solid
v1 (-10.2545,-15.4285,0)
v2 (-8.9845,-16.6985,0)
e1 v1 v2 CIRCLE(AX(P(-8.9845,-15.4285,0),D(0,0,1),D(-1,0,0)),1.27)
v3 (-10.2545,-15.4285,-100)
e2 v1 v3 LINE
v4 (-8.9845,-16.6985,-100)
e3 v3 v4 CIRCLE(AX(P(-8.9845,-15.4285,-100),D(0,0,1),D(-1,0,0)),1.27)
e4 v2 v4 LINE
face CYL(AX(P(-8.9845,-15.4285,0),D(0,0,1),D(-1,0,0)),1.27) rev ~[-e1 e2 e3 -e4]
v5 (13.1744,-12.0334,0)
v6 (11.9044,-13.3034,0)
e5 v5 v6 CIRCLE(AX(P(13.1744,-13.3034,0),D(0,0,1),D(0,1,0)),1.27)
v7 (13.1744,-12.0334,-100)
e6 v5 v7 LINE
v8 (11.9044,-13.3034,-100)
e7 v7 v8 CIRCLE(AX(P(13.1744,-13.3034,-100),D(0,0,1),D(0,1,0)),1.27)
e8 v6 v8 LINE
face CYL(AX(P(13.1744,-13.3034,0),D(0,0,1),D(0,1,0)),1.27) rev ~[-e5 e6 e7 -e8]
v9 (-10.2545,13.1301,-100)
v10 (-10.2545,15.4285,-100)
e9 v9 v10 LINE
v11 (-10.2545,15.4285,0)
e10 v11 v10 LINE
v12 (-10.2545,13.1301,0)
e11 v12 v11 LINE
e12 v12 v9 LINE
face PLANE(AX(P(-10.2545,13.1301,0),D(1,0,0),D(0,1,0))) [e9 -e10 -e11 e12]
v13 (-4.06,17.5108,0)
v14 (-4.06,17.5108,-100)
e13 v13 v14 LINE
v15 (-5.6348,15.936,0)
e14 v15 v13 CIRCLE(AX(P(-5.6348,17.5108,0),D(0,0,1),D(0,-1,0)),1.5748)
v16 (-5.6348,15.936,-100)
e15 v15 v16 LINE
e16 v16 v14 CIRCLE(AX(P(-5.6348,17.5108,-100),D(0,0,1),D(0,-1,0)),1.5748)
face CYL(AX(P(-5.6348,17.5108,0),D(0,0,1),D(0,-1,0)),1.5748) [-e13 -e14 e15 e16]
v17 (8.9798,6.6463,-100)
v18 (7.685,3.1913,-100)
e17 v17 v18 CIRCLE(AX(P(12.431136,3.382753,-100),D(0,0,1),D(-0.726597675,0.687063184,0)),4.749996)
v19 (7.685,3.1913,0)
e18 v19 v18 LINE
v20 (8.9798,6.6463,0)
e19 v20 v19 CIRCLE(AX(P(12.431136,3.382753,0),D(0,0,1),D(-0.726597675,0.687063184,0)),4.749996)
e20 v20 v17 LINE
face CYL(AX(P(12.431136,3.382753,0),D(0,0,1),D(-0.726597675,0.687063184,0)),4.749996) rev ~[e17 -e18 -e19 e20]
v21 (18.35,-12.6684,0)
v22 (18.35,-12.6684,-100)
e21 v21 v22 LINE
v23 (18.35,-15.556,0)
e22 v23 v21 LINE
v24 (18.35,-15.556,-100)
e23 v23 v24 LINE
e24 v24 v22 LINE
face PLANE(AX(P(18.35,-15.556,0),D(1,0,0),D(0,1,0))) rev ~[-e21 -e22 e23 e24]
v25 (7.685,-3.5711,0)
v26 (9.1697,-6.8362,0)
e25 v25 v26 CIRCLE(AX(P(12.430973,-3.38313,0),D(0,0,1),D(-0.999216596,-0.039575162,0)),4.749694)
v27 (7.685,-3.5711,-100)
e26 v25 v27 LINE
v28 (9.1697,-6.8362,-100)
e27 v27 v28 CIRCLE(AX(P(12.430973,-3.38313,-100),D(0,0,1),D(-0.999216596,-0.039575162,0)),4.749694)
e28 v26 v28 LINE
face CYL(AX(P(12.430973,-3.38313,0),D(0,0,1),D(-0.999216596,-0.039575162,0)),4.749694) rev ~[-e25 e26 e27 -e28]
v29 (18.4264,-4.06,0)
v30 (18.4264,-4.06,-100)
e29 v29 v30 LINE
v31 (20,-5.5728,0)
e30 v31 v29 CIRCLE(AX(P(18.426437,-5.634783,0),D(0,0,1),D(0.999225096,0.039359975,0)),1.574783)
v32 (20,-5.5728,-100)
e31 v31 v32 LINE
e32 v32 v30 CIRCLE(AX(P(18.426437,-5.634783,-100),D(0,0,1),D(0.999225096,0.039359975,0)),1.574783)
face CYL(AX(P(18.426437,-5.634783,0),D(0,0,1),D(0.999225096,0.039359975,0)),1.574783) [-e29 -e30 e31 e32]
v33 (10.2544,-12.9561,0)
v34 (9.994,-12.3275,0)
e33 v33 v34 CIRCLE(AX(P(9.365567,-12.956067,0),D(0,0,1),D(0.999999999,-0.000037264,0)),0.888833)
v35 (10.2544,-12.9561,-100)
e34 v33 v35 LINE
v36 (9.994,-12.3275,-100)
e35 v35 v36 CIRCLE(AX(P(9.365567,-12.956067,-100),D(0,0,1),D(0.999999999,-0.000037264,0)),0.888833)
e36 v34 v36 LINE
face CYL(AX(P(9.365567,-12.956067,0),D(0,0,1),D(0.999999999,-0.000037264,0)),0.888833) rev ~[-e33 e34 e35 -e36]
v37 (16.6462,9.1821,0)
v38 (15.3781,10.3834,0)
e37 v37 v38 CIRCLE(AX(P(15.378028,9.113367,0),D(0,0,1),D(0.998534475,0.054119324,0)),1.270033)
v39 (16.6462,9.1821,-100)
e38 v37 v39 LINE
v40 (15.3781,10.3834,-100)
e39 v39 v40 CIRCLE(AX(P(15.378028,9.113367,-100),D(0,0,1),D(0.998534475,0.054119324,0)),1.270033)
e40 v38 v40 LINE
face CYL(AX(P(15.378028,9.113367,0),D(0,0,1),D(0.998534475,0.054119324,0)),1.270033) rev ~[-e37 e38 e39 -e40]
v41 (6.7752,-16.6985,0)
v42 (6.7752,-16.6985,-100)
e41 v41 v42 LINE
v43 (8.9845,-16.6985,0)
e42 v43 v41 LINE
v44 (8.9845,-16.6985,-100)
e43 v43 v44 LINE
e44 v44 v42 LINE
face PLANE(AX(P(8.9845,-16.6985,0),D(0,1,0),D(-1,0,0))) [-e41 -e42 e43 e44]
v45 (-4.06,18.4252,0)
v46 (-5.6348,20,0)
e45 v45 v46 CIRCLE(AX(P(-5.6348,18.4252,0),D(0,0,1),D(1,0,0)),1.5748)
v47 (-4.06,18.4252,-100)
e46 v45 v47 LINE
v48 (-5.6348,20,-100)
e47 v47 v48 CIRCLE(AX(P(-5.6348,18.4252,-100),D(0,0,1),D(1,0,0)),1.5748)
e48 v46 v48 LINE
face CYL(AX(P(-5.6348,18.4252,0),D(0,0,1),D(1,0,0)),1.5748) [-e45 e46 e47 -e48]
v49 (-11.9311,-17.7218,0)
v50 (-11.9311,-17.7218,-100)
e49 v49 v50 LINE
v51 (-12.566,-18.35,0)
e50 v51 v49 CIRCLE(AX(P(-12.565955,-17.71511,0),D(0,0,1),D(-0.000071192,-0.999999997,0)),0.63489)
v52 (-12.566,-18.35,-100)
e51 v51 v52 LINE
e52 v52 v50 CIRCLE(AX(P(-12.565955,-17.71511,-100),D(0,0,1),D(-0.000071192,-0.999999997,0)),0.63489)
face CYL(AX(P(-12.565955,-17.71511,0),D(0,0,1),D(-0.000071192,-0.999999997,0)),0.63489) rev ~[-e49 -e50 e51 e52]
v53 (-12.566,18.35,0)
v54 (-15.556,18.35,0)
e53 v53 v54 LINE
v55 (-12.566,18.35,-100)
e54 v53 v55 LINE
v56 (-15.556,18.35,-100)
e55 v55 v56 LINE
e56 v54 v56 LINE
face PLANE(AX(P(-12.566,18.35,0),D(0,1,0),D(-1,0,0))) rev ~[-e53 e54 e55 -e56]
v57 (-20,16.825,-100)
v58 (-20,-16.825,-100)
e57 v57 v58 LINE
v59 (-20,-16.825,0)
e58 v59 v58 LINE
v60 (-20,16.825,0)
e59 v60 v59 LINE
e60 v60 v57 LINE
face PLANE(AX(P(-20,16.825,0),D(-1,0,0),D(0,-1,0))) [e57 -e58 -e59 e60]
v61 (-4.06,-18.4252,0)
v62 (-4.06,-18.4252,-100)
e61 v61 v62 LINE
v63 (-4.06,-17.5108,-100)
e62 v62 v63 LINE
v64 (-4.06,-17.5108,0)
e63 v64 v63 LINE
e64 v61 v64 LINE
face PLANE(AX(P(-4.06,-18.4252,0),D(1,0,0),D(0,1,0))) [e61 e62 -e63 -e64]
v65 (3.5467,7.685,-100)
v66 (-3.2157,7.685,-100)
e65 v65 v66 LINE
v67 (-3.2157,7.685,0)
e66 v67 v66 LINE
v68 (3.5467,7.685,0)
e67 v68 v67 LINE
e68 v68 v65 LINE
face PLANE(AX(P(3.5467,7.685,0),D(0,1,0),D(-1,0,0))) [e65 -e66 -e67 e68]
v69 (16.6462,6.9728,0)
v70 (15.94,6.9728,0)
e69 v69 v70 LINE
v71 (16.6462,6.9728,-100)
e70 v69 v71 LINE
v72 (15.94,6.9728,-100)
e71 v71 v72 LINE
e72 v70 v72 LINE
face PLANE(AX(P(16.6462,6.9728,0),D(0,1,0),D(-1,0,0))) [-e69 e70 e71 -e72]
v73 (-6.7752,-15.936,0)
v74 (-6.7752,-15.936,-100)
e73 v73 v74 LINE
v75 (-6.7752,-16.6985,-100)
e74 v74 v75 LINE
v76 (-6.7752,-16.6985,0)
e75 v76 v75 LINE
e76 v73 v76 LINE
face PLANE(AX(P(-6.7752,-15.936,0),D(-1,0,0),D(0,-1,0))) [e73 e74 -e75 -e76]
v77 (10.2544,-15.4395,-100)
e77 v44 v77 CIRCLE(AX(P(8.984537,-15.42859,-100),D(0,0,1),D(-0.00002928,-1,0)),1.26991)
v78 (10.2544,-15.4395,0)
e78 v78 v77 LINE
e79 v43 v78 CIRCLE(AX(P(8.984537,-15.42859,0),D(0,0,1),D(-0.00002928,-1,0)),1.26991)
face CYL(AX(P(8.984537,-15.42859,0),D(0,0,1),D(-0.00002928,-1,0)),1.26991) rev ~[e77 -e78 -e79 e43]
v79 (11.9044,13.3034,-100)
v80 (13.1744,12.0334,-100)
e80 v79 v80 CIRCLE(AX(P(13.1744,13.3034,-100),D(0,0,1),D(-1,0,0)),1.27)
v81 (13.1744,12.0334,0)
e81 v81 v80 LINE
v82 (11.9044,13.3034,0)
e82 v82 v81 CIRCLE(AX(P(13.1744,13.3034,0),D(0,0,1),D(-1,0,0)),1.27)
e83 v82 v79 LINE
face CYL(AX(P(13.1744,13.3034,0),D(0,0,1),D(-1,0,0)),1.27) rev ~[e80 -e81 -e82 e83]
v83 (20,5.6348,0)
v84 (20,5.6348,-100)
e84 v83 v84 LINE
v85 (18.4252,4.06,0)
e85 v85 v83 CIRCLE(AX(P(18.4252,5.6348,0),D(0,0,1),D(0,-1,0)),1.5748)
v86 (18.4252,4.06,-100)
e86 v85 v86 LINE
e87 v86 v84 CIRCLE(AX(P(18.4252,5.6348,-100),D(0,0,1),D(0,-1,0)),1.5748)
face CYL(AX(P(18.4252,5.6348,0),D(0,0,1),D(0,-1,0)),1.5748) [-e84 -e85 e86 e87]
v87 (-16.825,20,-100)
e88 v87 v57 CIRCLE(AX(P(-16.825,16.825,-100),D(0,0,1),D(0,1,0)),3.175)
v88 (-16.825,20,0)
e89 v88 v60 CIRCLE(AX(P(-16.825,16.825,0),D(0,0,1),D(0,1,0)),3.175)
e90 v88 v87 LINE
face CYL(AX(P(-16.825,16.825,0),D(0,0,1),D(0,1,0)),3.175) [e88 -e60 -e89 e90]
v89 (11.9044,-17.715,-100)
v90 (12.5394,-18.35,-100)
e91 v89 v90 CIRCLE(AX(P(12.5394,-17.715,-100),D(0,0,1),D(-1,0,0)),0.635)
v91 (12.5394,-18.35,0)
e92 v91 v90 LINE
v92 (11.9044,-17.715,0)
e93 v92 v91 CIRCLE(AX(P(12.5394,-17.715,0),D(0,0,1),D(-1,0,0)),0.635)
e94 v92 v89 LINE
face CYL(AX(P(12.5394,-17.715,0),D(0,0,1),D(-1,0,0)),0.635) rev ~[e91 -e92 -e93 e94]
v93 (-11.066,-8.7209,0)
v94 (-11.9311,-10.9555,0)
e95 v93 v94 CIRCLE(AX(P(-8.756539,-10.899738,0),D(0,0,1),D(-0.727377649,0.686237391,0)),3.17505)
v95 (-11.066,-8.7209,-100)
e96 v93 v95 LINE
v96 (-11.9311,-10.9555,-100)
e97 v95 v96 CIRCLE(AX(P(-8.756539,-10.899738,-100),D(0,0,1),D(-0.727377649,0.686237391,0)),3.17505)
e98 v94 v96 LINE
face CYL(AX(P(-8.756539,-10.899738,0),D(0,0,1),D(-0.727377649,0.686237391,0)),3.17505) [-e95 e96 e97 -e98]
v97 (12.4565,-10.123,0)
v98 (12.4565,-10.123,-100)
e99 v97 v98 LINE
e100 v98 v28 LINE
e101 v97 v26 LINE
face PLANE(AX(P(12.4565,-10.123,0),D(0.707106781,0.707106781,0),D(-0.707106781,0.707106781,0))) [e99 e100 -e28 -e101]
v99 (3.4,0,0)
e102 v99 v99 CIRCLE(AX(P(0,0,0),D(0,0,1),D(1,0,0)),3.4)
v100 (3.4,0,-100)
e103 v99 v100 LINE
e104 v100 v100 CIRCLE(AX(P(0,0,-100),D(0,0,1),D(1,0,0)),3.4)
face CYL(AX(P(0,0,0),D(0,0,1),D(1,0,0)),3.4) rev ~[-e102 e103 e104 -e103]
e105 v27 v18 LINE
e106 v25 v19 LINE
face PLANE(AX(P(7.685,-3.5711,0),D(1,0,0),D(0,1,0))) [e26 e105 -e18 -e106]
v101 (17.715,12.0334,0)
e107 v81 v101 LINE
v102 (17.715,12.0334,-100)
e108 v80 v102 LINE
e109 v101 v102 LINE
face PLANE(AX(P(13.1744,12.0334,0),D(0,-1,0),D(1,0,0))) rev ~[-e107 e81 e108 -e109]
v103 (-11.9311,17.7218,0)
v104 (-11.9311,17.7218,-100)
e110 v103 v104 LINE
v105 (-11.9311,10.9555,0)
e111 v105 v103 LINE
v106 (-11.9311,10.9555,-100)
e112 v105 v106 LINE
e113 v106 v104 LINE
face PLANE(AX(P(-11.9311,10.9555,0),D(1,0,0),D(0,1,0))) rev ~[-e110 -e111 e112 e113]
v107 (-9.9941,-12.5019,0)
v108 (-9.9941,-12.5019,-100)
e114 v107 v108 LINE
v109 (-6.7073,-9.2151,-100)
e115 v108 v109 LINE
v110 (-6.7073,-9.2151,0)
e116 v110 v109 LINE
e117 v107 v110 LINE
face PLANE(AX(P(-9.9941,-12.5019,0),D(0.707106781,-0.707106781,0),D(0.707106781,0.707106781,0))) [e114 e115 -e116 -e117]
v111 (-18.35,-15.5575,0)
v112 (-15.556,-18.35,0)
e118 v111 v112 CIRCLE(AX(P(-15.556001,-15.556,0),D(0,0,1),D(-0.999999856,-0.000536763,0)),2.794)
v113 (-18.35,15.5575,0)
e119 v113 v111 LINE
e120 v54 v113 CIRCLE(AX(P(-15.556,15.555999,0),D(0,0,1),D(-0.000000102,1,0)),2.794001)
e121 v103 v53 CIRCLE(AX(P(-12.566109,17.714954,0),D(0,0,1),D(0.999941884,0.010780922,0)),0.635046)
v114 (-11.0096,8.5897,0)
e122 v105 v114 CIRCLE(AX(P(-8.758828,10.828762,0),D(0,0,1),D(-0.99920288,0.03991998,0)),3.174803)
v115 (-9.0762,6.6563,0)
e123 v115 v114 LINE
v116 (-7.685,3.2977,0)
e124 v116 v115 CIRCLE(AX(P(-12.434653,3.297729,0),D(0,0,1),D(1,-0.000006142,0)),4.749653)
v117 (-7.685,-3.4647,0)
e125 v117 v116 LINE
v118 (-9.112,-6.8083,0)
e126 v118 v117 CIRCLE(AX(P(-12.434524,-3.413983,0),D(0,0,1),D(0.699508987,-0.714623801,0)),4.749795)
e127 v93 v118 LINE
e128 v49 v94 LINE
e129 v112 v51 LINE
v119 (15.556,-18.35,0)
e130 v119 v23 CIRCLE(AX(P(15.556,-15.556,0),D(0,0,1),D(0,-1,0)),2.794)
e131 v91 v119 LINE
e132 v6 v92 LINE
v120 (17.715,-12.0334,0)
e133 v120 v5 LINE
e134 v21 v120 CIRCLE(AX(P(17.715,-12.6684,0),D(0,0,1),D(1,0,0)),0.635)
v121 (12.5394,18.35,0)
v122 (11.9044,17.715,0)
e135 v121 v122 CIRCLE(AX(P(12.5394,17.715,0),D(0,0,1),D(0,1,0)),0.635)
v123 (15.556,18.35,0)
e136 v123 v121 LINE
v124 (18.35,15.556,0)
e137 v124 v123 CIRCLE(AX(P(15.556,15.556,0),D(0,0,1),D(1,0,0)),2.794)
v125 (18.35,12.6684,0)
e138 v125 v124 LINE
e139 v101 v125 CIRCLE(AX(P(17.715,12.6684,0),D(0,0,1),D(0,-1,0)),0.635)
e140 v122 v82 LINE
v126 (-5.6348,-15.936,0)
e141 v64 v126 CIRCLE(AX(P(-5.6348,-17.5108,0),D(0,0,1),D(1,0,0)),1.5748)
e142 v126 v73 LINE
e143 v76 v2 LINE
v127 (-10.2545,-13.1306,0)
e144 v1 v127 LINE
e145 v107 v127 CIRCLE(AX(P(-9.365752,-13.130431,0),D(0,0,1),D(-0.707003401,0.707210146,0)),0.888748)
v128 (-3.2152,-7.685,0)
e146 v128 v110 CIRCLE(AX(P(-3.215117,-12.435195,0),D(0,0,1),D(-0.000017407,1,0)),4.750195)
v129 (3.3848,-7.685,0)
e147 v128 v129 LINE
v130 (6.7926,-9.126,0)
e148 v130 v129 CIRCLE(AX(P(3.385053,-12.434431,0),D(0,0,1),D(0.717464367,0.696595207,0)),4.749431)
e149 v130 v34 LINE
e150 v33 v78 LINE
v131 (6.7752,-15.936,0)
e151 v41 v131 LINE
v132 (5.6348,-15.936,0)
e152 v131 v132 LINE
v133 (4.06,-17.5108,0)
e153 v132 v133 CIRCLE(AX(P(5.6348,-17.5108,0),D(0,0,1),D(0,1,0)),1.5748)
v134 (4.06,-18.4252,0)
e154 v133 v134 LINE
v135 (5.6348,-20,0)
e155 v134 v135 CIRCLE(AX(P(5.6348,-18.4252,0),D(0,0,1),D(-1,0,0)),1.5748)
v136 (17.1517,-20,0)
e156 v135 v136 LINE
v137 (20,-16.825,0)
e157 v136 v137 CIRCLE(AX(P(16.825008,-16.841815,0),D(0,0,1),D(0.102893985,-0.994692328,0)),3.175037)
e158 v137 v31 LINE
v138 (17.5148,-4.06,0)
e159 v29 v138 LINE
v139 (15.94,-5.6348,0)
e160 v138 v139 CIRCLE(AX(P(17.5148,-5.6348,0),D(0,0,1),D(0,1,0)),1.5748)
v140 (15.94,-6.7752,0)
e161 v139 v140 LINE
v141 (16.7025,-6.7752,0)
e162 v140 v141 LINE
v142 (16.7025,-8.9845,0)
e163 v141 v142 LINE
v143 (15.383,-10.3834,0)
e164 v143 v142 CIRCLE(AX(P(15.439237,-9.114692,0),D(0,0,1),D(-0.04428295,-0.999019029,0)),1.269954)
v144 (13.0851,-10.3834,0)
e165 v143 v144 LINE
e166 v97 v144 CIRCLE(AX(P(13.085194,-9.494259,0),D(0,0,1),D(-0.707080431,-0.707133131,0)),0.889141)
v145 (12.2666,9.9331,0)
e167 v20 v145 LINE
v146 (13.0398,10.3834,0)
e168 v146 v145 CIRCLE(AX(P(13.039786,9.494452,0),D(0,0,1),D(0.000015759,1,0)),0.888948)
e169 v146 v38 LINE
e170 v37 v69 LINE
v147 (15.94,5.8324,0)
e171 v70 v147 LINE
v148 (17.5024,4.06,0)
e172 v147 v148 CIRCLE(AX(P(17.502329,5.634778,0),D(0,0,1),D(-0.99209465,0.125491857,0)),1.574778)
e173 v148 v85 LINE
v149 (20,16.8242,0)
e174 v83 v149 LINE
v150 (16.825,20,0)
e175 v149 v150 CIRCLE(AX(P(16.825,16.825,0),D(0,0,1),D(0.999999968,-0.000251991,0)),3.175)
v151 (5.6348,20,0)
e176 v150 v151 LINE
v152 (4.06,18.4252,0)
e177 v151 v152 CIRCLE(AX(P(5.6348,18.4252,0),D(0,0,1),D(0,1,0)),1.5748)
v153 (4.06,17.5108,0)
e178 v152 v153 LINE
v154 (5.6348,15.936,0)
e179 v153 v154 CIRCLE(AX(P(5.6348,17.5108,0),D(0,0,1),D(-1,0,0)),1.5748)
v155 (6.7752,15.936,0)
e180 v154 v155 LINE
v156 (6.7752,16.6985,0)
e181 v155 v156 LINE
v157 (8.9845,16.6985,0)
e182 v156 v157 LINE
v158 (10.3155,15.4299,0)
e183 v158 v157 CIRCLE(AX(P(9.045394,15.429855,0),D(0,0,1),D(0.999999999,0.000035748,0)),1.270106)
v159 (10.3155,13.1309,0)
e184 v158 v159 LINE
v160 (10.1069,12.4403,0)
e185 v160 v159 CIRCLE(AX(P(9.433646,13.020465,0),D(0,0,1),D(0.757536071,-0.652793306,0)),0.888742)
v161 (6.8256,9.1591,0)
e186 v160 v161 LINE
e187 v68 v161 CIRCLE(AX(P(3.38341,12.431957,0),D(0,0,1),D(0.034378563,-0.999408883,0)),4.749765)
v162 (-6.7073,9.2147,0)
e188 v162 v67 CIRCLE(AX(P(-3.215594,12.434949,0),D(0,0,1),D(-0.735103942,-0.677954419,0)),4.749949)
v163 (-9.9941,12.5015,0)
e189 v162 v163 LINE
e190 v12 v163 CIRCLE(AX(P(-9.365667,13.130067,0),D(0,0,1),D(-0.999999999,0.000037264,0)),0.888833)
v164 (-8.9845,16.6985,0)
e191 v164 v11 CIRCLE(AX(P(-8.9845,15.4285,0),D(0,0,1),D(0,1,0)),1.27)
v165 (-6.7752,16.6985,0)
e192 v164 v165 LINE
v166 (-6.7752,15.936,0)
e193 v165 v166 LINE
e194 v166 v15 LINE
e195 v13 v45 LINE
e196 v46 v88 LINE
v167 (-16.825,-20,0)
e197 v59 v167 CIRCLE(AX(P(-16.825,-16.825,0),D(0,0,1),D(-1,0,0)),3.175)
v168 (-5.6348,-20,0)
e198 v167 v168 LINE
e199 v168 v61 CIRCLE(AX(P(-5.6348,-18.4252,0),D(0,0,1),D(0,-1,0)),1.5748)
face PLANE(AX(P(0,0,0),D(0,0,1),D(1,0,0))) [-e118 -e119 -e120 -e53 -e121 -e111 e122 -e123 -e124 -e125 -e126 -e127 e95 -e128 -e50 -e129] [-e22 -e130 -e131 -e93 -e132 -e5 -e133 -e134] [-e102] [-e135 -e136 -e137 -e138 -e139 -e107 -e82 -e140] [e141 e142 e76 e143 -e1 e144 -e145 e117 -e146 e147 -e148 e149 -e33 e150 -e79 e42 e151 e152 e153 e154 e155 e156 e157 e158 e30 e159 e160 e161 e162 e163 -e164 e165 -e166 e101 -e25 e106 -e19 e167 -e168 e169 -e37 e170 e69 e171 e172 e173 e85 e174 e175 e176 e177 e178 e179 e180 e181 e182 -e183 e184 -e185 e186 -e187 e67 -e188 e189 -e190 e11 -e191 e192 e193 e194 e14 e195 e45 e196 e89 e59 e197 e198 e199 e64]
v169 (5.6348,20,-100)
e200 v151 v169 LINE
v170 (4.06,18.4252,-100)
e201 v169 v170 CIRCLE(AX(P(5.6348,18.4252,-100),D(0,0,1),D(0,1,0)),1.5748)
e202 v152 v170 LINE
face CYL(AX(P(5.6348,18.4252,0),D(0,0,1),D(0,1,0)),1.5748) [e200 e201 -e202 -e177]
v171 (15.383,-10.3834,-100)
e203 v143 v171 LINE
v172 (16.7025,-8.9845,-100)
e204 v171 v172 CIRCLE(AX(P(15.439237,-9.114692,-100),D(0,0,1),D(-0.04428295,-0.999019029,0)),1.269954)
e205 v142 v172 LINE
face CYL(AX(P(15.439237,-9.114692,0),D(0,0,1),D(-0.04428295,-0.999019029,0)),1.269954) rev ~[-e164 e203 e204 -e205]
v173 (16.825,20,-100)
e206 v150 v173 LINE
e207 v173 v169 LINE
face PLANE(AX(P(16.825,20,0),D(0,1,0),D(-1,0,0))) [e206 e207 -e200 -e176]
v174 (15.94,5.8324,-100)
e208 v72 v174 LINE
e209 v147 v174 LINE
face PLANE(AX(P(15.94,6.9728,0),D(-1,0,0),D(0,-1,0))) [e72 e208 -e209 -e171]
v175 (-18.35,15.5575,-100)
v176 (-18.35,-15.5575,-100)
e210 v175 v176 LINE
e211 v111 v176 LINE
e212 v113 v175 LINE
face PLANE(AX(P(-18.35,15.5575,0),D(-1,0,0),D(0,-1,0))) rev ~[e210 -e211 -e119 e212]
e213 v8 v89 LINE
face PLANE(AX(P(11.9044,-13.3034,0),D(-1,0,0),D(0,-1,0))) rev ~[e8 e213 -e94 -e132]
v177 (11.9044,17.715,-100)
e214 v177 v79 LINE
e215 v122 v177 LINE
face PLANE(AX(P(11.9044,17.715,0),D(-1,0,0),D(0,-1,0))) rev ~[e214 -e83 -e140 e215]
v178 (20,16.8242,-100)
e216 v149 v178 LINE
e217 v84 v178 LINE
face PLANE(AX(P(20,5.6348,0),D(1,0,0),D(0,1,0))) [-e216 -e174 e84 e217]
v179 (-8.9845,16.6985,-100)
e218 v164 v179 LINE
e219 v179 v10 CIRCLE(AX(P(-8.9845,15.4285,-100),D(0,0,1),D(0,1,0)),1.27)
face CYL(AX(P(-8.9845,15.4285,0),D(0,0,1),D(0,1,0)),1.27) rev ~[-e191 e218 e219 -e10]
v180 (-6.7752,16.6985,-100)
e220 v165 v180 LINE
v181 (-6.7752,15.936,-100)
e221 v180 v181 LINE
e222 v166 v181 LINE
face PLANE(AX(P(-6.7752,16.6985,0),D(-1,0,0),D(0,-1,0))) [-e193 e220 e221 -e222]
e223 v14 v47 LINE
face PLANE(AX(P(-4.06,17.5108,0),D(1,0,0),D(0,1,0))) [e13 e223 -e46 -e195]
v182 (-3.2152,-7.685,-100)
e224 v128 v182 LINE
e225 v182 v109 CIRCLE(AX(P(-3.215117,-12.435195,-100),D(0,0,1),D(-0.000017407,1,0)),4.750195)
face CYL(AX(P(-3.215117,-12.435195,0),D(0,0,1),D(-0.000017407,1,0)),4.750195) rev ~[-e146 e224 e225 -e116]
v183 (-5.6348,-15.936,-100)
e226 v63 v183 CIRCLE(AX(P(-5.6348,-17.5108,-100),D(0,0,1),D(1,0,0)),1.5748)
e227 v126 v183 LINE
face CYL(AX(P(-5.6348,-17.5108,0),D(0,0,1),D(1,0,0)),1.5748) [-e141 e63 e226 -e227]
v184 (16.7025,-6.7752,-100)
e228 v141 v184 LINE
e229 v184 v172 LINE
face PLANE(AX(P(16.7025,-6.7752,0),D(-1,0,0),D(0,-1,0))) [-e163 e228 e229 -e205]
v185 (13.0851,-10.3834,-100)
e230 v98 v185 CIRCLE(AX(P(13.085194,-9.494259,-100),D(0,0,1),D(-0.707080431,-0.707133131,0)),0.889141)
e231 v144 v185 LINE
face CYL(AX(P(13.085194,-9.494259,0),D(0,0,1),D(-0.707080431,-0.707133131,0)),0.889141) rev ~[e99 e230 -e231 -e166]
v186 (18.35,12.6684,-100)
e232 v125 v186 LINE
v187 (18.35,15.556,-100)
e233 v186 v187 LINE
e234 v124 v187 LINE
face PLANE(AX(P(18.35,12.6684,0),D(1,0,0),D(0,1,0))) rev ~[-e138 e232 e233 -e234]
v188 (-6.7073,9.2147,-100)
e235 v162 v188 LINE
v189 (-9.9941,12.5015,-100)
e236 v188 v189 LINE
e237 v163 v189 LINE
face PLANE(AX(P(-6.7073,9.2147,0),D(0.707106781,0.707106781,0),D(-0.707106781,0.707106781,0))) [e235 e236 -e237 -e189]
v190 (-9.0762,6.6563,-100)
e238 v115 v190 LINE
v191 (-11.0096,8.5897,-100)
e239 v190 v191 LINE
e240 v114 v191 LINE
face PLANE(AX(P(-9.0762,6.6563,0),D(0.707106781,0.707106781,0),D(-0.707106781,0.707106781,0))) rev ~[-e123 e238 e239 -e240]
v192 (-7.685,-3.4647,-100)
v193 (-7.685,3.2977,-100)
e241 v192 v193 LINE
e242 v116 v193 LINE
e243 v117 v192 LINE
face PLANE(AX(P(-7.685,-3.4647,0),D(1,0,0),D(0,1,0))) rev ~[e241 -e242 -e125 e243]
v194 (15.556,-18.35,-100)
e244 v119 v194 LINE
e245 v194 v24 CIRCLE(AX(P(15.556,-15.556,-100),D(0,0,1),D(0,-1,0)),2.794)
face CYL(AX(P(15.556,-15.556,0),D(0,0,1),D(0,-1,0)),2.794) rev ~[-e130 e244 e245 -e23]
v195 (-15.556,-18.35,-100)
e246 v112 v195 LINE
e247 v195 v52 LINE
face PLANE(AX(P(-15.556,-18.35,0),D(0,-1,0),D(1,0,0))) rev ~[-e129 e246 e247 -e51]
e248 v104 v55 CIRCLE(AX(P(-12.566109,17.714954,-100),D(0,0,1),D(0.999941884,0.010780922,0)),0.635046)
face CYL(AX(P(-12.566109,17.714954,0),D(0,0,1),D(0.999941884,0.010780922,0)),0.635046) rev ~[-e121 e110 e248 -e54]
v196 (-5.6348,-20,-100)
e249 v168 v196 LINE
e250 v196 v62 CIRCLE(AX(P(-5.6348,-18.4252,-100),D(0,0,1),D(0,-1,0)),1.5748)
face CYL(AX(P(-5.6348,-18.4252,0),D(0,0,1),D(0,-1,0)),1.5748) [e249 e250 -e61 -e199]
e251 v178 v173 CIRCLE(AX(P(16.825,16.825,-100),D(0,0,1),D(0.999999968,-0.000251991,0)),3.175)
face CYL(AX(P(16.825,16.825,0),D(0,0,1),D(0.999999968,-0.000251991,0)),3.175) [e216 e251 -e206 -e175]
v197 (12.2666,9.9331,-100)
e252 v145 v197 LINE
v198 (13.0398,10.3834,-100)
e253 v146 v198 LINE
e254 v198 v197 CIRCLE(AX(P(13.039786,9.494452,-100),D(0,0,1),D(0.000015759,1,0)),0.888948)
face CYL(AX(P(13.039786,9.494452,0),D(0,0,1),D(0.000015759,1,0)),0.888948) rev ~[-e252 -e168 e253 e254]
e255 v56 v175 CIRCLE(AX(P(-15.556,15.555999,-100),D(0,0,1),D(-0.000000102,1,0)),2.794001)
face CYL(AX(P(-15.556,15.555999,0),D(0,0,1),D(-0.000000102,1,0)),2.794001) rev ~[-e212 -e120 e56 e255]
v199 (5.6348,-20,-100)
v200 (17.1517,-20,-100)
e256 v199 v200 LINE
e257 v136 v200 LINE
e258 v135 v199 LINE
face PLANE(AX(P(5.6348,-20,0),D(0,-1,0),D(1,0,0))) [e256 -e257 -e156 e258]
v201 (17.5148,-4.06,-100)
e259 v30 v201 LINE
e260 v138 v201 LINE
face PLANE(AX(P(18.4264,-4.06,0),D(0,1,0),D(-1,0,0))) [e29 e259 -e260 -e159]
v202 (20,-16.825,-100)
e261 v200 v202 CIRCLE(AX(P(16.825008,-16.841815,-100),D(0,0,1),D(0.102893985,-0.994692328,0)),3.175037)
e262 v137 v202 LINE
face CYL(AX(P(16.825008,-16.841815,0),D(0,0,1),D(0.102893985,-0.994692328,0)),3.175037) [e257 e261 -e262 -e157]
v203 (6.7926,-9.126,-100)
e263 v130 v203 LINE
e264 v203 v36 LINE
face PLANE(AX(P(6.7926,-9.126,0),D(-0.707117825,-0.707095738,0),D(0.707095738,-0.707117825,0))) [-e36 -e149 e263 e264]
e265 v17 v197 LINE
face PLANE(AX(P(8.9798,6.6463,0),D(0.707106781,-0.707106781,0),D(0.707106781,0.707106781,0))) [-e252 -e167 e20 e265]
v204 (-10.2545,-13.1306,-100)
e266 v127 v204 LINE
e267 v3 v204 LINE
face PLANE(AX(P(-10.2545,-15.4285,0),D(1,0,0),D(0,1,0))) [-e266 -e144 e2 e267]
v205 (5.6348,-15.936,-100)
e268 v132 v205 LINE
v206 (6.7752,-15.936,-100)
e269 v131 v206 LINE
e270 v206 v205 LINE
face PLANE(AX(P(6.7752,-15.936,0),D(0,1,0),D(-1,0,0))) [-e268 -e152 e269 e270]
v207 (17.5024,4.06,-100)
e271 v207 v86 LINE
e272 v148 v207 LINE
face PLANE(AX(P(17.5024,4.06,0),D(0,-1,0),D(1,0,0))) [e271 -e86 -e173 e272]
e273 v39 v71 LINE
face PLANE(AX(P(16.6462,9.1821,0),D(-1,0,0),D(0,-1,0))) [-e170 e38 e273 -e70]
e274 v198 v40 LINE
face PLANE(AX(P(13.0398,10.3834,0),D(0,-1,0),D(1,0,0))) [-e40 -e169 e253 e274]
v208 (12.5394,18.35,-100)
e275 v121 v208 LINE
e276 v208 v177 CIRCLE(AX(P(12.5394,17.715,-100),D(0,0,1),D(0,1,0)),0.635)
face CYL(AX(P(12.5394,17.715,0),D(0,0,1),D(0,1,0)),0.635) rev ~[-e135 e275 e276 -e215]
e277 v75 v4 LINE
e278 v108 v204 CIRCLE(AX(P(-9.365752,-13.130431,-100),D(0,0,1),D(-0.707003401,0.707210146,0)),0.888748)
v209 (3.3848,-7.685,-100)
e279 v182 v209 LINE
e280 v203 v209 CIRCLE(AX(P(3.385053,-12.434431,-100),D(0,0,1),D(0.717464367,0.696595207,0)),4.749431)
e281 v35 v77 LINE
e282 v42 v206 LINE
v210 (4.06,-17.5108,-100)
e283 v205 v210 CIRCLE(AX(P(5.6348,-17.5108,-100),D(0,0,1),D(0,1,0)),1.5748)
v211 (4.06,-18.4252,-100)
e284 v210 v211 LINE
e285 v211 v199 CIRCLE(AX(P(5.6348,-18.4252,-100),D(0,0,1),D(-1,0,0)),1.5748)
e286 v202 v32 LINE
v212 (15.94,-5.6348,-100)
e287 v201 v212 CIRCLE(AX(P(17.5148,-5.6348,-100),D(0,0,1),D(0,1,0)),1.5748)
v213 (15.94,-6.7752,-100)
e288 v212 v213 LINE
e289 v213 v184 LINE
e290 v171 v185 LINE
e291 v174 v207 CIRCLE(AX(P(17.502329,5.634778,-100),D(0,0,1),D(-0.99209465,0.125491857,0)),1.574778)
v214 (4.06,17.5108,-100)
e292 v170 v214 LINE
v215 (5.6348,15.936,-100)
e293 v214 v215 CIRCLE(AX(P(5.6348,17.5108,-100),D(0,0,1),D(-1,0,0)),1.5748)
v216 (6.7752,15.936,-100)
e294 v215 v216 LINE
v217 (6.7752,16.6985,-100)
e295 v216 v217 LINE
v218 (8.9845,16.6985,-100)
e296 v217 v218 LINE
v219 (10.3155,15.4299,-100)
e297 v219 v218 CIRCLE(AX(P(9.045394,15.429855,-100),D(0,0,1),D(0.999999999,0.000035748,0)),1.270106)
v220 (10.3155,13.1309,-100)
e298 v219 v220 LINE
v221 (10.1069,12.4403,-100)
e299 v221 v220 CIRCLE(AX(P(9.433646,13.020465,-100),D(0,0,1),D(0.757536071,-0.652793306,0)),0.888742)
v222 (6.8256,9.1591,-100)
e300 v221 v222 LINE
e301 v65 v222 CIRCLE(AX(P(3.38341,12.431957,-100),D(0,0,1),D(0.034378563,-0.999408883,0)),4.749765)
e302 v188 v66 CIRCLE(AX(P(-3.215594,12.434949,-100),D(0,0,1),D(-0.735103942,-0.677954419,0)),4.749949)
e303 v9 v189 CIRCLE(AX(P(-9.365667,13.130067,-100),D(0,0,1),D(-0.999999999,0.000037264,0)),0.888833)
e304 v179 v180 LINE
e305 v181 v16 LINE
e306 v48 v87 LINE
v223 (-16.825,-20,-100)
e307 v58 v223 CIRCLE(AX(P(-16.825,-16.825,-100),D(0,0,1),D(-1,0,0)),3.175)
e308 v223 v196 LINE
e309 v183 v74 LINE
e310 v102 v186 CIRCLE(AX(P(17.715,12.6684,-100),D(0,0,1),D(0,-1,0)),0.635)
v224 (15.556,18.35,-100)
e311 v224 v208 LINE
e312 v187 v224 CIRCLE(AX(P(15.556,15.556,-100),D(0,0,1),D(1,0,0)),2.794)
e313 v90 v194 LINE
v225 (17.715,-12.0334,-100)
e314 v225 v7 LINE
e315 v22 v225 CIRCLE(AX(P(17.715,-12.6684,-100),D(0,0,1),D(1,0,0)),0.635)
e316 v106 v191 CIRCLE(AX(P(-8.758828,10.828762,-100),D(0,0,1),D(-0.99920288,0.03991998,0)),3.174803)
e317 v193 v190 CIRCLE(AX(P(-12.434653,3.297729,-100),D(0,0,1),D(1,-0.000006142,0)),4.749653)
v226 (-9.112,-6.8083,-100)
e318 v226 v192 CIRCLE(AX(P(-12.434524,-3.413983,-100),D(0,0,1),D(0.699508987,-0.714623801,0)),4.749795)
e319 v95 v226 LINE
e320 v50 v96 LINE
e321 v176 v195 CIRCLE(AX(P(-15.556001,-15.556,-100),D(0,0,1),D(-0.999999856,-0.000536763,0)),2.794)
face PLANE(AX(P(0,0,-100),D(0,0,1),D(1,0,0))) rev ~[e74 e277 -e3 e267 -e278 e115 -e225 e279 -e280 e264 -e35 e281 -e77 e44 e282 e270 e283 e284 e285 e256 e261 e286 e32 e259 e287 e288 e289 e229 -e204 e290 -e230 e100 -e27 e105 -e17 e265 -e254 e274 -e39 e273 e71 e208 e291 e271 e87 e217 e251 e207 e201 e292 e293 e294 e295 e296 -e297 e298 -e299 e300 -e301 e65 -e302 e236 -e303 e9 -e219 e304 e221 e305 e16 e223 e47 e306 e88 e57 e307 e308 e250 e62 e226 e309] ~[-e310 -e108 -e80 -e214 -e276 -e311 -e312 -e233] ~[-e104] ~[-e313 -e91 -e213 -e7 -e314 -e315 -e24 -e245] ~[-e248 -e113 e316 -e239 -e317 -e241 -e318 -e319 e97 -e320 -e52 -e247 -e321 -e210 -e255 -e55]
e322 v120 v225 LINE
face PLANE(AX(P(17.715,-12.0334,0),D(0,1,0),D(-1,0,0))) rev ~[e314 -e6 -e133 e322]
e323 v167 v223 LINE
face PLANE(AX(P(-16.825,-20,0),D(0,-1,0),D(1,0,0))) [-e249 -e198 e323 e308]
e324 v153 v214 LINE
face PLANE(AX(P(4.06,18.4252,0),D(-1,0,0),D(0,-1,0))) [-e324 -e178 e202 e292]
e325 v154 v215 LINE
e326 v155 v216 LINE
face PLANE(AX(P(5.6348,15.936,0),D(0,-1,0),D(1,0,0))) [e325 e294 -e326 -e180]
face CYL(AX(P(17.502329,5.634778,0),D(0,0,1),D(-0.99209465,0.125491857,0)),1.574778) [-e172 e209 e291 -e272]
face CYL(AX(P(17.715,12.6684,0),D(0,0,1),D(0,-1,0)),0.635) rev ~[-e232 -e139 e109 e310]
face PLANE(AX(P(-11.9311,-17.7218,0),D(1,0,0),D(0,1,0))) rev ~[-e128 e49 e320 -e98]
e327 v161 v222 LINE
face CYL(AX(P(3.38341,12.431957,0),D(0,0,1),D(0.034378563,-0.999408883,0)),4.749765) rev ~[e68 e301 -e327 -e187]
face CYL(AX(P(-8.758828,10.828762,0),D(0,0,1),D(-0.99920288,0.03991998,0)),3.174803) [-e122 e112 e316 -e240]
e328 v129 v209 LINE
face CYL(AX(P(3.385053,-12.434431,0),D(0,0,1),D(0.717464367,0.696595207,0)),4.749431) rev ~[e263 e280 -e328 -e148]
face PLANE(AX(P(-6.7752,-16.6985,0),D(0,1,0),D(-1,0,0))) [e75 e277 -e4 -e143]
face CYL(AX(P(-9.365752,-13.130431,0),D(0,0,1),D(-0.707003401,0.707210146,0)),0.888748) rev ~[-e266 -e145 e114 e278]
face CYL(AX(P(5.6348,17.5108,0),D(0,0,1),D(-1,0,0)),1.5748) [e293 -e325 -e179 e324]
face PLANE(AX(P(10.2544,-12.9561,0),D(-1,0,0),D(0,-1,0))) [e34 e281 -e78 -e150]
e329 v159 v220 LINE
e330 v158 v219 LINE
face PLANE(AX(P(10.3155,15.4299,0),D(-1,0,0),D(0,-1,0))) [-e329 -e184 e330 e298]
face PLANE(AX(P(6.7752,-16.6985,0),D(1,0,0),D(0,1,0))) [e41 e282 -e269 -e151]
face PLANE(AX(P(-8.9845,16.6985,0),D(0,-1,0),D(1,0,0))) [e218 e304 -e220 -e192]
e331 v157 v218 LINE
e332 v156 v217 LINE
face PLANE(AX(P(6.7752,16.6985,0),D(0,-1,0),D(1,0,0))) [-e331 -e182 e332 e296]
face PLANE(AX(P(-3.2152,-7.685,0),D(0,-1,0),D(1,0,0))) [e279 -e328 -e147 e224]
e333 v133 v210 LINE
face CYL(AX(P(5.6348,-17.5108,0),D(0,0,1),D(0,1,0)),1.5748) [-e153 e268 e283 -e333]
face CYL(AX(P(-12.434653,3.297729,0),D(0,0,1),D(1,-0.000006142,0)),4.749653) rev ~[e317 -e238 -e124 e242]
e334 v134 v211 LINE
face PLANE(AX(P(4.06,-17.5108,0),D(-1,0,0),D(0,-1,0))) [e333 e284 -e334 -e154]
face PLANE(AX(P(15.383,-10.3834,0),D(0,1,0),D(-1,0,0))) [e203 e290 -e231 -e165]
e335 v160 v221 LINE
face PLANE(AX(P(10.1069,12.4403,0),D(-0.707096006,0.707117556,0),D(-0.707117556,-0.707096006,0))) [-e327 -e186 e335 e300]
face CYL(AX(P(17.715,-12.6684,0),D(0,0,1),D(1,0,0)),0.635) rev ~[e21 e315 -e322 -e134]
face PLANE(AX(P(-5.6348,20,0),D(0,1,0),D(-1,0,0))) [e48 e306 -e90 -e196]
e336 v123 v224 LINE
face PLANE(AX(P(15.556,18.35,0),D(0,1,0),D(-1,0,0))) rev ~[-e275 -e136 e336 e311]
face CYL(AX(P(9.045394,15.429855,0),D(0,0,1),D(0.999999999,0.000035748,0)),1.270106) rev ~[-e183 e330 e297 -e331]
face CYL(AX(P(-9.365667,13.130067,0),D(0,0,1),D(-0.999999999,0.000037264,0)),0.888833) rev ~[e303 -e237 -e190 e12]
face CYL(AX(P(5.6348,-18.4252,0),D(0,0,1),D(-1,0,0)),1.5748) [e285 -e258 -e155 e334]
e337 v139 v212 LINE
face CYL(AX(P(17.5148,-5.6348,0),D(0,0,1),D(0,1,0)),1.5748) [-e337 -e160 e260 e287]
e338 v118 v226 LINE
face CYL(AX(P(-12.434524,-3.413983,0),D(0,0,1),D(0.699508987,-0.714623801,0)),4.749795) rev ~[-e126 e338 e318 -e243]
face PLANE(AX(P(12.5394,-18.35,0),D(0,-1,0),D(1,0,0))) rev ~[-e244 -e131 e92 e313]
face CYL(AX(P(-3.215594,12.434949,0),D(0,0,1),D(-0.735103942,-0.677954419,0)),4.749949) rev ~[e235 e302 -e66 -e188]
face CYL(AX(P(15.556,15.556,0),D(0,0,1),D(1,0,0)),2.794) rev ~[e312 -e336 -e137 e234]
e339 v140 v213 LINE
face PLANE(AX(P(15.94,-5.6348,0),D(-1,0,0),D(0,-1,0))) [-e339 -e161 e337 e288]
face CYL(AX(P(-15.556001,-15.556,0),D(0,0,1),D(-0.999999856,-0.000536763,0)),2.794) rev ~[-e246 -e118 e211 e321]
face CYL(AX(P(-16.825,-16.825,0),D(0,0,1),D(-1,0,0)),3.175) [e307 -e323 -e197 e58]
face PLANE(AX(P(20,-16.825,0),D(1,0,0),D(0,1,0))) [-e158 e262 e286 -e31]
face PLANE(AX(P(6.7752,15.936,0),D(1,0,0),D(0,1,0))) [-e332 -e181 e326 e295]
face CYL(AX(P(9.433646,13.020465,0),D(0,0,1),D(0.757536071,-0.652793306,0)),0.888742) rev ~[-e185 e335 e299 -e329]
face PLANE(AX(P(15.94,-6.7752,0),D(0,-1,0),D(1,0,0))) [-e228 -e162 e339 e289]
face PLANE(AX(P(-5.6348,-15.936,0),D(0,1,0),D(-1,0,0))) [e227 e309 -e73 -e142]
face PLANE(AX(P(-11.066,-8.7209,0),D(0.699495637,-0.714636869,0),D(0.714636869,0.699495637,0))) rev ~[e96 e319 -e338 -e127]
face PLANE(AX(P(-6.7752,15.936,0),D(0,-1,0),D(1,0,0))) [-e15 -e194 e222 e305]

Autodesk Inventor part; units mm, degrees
ref_plane "YZ Plane" through (0, 0, 0) normal (1, 0, 0) x (0, 1, 0)
ref_plane "XZ Plane" through (0, 0, 0) normal (0, 1, 0) x (-1, 0, 0)
ref_plane "XY Plane" through (0, 0, 0) normal (0, 0, 1) x (1, 0, 0)
sketch "Sketch1" plane through (0, 0, 0) normal (0, 0, 1) x (1, 0, 0)
  arc A0 (11.9044, -17.715) -> (12.5394, -18.35) centre (12.5394, -17.715) ccw
  line L0 (11.9044, -13.3034) -> (11.9044, -17.715)
  arc A1 (13.1744, -12.0334) -> (11.9044, -13.3034) centre (13.1744, -13.3034) ccw
  line L1 (17.715, -12.0334) -> (13.1744, -12.0334)
  arc A2 (18.35, -12.6684) -> (17.715, -12.0334) centre (17.715, -12.6684) ccw
  line L2 (18.35, -15.556) -> (18.35, -12.6684)
  arc A3 (15.556, -18.35) -> (18.35, -15.556) centre (15.556, -15.556) ccw
  line L3 (12.5394, -18.35) -> (15.556, -18.35)
  arc A4 (-12.566, -18.35) -> (-11.9311, -17.7218) centre (-12.566, -17.715) ccw
  line L4 (-15.556, -18.35) -> (-12.566, -18.35)
  arc A5 (-18.35, -15.5575) -> (-15.556, -18.35) centre (-15.556, -15.556) ccw
  line L5 (-18.35, 15.5575) -> (-18.35, -15.5575)
  arc A6 (-15.556, 18.35) -> (-18.35, 15.5575) centre (-15.556, 15.556) ccw
  line L6 (-12.566, 18.35) -> (-15.556, 18.35)
  arc A7 (-11.9311, 17.7218) -> (-12.566, 18.35) centre (-12.566, 17.715) ccw
  line L7 (-11.9311, 10.9555) -> (-11.9311, 17.7218)
  arc A8 (-11.9311, 10.9555) -> (-11.0096, 8.5897) centre (-8.7586, 10.8288) ccw
  line L8 (-9.0762, 6.6563) -> (-11.0096, 8.5897)
  arc A9 (-7.685, 3.2977) -> (-9.0762, 6.6563) centre (-12.4348, 3.2977) ccw
  line L9 (-7.685, -3.4647) -> (-7.685, 3.2977)
  arc A10 (-9.112, -6.8083) -> (-7.685, -3.4647) centre (-12.4345, -3.414) ccw
  line L10 (-11.066, -8.7209) -> (-9.112, -6.8083)
  arc A11 (-11.066, -8.7209) -> (-11.9311, -10.9555) centre (-8.7566, -10.8997) ccw
  line L11 (-11.9311, -17.7218) -> (-11.9311, -10.9555)
  circle A12 centre (0, 0) radius 3.4
  arc A13 (11.9044, 13.3034) -> (13.1744, 12.0334) centre (13.1744, 13.3034) ccw
  line L12 (11.9044, 17.715) -> (11.9044, 13.3034)
  arc A14 (12.5394, 18.35) -> (11.9044, 17.715) centre (12.5394, 17.715) ccw
  line L13 (15.556, 18.35) -> (12.5394, 18.35)
  arc A15 (18.35, 15.556) -> (15.556, 18.35) centre (15.556, 15.556) ccw
  line L14 (18.35, 12.6684) -> (18.35, 15.556)
  arc A16 (17.715, 12.0334) -> (18.35, 12.6684) centre (17.715, 12.6684) ccw
  line L15 (13.1744, 12.0334) -> (17.715, 12.0334)
  arc A17 (3.5467, 7.685) -> (6.8256, 9.1591) centre (3.3834, 12.432) ccw
  line L16 (3.5467, 7.685) -> (-3.2157, 7.685)
  arc A18 (-6.7073, 9.2147) -> (-3.2157, 7.685) centre (-3.2157, 12.4348) ccw
  line L17 (-6.7073, 9.2147) -> (-9.9941, 12.5015)
  arc A19 (-10.2545, 13.1301) -> (-9.9941, 12.5015) centre (-9.3655, 13.1301) ccw
  line L18 (-10.2545, 13.1301) -> (-10.2545, 15.4285)
  arc A20 (-8.9845, 16.6985) -> (-10.2545, 15.4285) centre (-8.9845, 15.4285) ccw
  line L19 (-8.9845, 16.6985) -> (-6.7752, 16.6985)
  line L20 (-6.7752, 16.6985) -> (-6.7752, 15.936)
  line L21 (-6.7752, 15.936) -> (-5.6348, 15.936)
  arc A21 (-5.6348, 15.936) -> (-4.06, 17.5108) centre (-5.6348, 17.5108) ccw
  line L22 (-4.06, 17.5108) -> (-4.06, 18.4252)
  arc A22 (-4.06, 18.4252) -> (-5.6348, 20) centre (-5.6348, 18.4252) ccw
  line L23 (-5.6348, 20) -> (-16.825, 20)
  arc A23 (-16.825, 20) -> (-20, 16.825) centre (-16.825, 16.825) ccw
  line L24 (-20, 16.825) -> (-20, -16.825)
  arc A24 (-20, -16.825) -> (-16.825, -20) centre (-16.825, -16.825) ccw
  line L25 (-16.825, -20) -> (-5.6348, -20)
  arc A25 (-5.6348, -20) -> (-4.06, -18.4252) centre (-5.6348, -18.4252) ccw
  line L26 (-4.06, -18.4252) -> (-4.06, -17.5108)
  arc A26 (-4.06, -17.5108) -> (-5.6348, -15.936) centre (-5.6348, -17.5108) ccw
  line L27 (-5.6348, -15.936) -> (-6.7752, -15.936)
  line L28 (-6.7752, -15.936) -> (-6.7752, -16.6985)
  line L29 (-6.7752, -16.6985) -> (-8.9845, -16.6985)
  arc A27 (-10.2545, -15.4285) -> (-8.9845, -16.6985) centre (-8.9845, -15.4285) ccw
  line L30 (-10.2545, -15.4285) -> (-10.2545, -13.1306)
  arc A28 (-9.9941, -12.5019) -> (-10.2545, -13.1306) centre (-9.3655, -13.1306) ccw
  line L31 (-9.9941, -12.5019) -> (-6.7073, -9.2151)
  arc A29 (-3.2152, -7.685) -> (-6.7073, -9.2151) centre (-3.2152, -12.4348) ccw
  line L32 (-3.2152, -7.685) -> (3.3848, -7.685)
  arc A30 (6.7926, -9.126) -> (3.3848, -7.685) centre (3.3848, -12.4348) ccw
  line L33 (6.7926, -9.126) -> (9.994, -12.3275)
  arc A31 (10.2544, -12.9561) -> (9.994, -12.3275) centre (9.3654, -12.9561) ccw
  line L34 (10.2544, -12.9561) -> (10.2544, -15.4395)
  arc A32 (8.9845, -16.6985) -> (10.2544, -15.4395) centre (8.9845, -15.4285) ccw
  line L35 (8.9845, -16.6985) -> (6.7752, -16.6985)
  line L36 (6.7752, -16.6985) -> (6.7752, -15.936)
  line L37 (6.7752, -15.936) -> (5.6348, -15.936)
  arc A33 (5.6348, -15.936) -> (4.06, -17.5108) centre (5.6348, -17.5108) ccw
  line L38 (4.06, -17.5108) -> (4.06, -18.4252)
  arc A34 (4.06, -18.4252) -> (5.6348, -20) centre (5.6348, -18.4252) ccw
  line L39 (5.6348, -20) -> (17.1517, -20)
  arc A35 (17.1517, -20) -> (20, -16.825) centre (16.825, -16.8418) ccw
  line L40 (20, -16.825) -> (20, -5.5728)
  arc A36 (20, -5.5728) -> (18.4264, -4.06) centre (18.4264, -5.6348) ccw
  line L41 (18.4264, -4.06) -> (17.5148, -4.06)
  arc A37 (17.5148, -4.06) -> (15.94, -5.6348) centre (17.5148, -5.6348) ccw
  line L42 (15.94, -5.6348) -> (15.94, -6.7752)
  line L43 (15.94, -6.7752) -> (16.7025, -6.7752)
  line L44 (16.7025, -6.7752) -> (16.7025, -8.9845)
  arc A38 (15.383, -10.3834) -> (16.7025, -8.9845) centre (15.4392, -9.1146) ccw
  line L45 (15.383, -10.3834) -> (13.0851, -10.3834)
  arc A39 (12.4565, -10.123) -> (13.0851, -10.3834) centre (13.0851, -9.4944) ccw
  line L46 (12.4565, -10.123) -> (9.1697, -6.8362)
  arc A40 (7.685, -3.5711) -> (9.1697, -6.8362) centre (12.4311, -3.3831) ccw
  line L47 (7.685, -3.5711) -> (7.685, 3.1913)
  arc A41 (8.9798, 6.6463) -> (7.685, 3.1913) centre (12.4309, 3.3829) ccw
  line L48 (8.9798, 6.6463) -> (12.2666, 9.9331)
  arc A42 (13.0398, 10.3834) -> (12.2666, 9.9331) centre (13.0398, 9.4944) ccw
  line L49 (13.0398, 10.3834) -> (15.3781, 10.3834)
  arc A43 (16.6462, 9.1821) -> (15.3781, 10.3834) centre (15.3781, 9.1134) ccw
  line L50 (16.6462, 9.1821) -> (16.6462, 6.9728)
  line L51 (16.6462, 6.9728) -> (15.94, 6.9728)
  line L52 (15.94, 6.9728) -> (15.94, 5.8324)
  arc A44 (15.94, 5.8324) -> (17.5024, 4.06) centre (17.5024, 5.6348) ccw
  line L53 (17.5024, 4.06) -> (18.4252, 4.06)
  arc A45 (18.4252, 4.06) -> (20, 5.6348) centre (18.4252, 5.6348) ccw
  line L54 (20, 5.6348) -> (20, 16.8242)
  arc A46 (20, 16.8242) -> (16.825, 20) centre (16.825, 16.825) ccw
  line L55 (16.825, 20) -> (5.6348, 20)
  arc A47 (5.6348, 20) -> (4.06, 18.4252) centre (5.6348, 18.4252) ccw
  line L56 (4.06, 18.4252) -> (4.06, 17.5108)
  arc A48 (4.06, 17.5108) -> (5.6348, 15.936) centre (5.6348, 17.5108) ccw
  line L57 (5.6348, 15.936) -> (6.7752, 15.936)
  line L58 (6.7752, 15.936) -> (6.7752, 16.6985)
  line L59 (6.7752, 16.6985) -> (8.9845, 16.6985)
  arc A49 (10.3155, 15.4299) -> (8.9845, 16.6985) centre (9.0455, 15.4299) ccw
  line L60 (10.3155, 15.4299) -> (10.3155, 13.1309)
  arc A50 (10.1069, 12.4403) -> (10.3155, 13.1309) centre (9.4334, 13.0206) ccw
  line L61 (10.1069, 12.4403) -> (6.8256, 9.1591)
extrude "Extrusion1" add sketch "Sketch1" against normal blind 100
properties part number "40-4003"
